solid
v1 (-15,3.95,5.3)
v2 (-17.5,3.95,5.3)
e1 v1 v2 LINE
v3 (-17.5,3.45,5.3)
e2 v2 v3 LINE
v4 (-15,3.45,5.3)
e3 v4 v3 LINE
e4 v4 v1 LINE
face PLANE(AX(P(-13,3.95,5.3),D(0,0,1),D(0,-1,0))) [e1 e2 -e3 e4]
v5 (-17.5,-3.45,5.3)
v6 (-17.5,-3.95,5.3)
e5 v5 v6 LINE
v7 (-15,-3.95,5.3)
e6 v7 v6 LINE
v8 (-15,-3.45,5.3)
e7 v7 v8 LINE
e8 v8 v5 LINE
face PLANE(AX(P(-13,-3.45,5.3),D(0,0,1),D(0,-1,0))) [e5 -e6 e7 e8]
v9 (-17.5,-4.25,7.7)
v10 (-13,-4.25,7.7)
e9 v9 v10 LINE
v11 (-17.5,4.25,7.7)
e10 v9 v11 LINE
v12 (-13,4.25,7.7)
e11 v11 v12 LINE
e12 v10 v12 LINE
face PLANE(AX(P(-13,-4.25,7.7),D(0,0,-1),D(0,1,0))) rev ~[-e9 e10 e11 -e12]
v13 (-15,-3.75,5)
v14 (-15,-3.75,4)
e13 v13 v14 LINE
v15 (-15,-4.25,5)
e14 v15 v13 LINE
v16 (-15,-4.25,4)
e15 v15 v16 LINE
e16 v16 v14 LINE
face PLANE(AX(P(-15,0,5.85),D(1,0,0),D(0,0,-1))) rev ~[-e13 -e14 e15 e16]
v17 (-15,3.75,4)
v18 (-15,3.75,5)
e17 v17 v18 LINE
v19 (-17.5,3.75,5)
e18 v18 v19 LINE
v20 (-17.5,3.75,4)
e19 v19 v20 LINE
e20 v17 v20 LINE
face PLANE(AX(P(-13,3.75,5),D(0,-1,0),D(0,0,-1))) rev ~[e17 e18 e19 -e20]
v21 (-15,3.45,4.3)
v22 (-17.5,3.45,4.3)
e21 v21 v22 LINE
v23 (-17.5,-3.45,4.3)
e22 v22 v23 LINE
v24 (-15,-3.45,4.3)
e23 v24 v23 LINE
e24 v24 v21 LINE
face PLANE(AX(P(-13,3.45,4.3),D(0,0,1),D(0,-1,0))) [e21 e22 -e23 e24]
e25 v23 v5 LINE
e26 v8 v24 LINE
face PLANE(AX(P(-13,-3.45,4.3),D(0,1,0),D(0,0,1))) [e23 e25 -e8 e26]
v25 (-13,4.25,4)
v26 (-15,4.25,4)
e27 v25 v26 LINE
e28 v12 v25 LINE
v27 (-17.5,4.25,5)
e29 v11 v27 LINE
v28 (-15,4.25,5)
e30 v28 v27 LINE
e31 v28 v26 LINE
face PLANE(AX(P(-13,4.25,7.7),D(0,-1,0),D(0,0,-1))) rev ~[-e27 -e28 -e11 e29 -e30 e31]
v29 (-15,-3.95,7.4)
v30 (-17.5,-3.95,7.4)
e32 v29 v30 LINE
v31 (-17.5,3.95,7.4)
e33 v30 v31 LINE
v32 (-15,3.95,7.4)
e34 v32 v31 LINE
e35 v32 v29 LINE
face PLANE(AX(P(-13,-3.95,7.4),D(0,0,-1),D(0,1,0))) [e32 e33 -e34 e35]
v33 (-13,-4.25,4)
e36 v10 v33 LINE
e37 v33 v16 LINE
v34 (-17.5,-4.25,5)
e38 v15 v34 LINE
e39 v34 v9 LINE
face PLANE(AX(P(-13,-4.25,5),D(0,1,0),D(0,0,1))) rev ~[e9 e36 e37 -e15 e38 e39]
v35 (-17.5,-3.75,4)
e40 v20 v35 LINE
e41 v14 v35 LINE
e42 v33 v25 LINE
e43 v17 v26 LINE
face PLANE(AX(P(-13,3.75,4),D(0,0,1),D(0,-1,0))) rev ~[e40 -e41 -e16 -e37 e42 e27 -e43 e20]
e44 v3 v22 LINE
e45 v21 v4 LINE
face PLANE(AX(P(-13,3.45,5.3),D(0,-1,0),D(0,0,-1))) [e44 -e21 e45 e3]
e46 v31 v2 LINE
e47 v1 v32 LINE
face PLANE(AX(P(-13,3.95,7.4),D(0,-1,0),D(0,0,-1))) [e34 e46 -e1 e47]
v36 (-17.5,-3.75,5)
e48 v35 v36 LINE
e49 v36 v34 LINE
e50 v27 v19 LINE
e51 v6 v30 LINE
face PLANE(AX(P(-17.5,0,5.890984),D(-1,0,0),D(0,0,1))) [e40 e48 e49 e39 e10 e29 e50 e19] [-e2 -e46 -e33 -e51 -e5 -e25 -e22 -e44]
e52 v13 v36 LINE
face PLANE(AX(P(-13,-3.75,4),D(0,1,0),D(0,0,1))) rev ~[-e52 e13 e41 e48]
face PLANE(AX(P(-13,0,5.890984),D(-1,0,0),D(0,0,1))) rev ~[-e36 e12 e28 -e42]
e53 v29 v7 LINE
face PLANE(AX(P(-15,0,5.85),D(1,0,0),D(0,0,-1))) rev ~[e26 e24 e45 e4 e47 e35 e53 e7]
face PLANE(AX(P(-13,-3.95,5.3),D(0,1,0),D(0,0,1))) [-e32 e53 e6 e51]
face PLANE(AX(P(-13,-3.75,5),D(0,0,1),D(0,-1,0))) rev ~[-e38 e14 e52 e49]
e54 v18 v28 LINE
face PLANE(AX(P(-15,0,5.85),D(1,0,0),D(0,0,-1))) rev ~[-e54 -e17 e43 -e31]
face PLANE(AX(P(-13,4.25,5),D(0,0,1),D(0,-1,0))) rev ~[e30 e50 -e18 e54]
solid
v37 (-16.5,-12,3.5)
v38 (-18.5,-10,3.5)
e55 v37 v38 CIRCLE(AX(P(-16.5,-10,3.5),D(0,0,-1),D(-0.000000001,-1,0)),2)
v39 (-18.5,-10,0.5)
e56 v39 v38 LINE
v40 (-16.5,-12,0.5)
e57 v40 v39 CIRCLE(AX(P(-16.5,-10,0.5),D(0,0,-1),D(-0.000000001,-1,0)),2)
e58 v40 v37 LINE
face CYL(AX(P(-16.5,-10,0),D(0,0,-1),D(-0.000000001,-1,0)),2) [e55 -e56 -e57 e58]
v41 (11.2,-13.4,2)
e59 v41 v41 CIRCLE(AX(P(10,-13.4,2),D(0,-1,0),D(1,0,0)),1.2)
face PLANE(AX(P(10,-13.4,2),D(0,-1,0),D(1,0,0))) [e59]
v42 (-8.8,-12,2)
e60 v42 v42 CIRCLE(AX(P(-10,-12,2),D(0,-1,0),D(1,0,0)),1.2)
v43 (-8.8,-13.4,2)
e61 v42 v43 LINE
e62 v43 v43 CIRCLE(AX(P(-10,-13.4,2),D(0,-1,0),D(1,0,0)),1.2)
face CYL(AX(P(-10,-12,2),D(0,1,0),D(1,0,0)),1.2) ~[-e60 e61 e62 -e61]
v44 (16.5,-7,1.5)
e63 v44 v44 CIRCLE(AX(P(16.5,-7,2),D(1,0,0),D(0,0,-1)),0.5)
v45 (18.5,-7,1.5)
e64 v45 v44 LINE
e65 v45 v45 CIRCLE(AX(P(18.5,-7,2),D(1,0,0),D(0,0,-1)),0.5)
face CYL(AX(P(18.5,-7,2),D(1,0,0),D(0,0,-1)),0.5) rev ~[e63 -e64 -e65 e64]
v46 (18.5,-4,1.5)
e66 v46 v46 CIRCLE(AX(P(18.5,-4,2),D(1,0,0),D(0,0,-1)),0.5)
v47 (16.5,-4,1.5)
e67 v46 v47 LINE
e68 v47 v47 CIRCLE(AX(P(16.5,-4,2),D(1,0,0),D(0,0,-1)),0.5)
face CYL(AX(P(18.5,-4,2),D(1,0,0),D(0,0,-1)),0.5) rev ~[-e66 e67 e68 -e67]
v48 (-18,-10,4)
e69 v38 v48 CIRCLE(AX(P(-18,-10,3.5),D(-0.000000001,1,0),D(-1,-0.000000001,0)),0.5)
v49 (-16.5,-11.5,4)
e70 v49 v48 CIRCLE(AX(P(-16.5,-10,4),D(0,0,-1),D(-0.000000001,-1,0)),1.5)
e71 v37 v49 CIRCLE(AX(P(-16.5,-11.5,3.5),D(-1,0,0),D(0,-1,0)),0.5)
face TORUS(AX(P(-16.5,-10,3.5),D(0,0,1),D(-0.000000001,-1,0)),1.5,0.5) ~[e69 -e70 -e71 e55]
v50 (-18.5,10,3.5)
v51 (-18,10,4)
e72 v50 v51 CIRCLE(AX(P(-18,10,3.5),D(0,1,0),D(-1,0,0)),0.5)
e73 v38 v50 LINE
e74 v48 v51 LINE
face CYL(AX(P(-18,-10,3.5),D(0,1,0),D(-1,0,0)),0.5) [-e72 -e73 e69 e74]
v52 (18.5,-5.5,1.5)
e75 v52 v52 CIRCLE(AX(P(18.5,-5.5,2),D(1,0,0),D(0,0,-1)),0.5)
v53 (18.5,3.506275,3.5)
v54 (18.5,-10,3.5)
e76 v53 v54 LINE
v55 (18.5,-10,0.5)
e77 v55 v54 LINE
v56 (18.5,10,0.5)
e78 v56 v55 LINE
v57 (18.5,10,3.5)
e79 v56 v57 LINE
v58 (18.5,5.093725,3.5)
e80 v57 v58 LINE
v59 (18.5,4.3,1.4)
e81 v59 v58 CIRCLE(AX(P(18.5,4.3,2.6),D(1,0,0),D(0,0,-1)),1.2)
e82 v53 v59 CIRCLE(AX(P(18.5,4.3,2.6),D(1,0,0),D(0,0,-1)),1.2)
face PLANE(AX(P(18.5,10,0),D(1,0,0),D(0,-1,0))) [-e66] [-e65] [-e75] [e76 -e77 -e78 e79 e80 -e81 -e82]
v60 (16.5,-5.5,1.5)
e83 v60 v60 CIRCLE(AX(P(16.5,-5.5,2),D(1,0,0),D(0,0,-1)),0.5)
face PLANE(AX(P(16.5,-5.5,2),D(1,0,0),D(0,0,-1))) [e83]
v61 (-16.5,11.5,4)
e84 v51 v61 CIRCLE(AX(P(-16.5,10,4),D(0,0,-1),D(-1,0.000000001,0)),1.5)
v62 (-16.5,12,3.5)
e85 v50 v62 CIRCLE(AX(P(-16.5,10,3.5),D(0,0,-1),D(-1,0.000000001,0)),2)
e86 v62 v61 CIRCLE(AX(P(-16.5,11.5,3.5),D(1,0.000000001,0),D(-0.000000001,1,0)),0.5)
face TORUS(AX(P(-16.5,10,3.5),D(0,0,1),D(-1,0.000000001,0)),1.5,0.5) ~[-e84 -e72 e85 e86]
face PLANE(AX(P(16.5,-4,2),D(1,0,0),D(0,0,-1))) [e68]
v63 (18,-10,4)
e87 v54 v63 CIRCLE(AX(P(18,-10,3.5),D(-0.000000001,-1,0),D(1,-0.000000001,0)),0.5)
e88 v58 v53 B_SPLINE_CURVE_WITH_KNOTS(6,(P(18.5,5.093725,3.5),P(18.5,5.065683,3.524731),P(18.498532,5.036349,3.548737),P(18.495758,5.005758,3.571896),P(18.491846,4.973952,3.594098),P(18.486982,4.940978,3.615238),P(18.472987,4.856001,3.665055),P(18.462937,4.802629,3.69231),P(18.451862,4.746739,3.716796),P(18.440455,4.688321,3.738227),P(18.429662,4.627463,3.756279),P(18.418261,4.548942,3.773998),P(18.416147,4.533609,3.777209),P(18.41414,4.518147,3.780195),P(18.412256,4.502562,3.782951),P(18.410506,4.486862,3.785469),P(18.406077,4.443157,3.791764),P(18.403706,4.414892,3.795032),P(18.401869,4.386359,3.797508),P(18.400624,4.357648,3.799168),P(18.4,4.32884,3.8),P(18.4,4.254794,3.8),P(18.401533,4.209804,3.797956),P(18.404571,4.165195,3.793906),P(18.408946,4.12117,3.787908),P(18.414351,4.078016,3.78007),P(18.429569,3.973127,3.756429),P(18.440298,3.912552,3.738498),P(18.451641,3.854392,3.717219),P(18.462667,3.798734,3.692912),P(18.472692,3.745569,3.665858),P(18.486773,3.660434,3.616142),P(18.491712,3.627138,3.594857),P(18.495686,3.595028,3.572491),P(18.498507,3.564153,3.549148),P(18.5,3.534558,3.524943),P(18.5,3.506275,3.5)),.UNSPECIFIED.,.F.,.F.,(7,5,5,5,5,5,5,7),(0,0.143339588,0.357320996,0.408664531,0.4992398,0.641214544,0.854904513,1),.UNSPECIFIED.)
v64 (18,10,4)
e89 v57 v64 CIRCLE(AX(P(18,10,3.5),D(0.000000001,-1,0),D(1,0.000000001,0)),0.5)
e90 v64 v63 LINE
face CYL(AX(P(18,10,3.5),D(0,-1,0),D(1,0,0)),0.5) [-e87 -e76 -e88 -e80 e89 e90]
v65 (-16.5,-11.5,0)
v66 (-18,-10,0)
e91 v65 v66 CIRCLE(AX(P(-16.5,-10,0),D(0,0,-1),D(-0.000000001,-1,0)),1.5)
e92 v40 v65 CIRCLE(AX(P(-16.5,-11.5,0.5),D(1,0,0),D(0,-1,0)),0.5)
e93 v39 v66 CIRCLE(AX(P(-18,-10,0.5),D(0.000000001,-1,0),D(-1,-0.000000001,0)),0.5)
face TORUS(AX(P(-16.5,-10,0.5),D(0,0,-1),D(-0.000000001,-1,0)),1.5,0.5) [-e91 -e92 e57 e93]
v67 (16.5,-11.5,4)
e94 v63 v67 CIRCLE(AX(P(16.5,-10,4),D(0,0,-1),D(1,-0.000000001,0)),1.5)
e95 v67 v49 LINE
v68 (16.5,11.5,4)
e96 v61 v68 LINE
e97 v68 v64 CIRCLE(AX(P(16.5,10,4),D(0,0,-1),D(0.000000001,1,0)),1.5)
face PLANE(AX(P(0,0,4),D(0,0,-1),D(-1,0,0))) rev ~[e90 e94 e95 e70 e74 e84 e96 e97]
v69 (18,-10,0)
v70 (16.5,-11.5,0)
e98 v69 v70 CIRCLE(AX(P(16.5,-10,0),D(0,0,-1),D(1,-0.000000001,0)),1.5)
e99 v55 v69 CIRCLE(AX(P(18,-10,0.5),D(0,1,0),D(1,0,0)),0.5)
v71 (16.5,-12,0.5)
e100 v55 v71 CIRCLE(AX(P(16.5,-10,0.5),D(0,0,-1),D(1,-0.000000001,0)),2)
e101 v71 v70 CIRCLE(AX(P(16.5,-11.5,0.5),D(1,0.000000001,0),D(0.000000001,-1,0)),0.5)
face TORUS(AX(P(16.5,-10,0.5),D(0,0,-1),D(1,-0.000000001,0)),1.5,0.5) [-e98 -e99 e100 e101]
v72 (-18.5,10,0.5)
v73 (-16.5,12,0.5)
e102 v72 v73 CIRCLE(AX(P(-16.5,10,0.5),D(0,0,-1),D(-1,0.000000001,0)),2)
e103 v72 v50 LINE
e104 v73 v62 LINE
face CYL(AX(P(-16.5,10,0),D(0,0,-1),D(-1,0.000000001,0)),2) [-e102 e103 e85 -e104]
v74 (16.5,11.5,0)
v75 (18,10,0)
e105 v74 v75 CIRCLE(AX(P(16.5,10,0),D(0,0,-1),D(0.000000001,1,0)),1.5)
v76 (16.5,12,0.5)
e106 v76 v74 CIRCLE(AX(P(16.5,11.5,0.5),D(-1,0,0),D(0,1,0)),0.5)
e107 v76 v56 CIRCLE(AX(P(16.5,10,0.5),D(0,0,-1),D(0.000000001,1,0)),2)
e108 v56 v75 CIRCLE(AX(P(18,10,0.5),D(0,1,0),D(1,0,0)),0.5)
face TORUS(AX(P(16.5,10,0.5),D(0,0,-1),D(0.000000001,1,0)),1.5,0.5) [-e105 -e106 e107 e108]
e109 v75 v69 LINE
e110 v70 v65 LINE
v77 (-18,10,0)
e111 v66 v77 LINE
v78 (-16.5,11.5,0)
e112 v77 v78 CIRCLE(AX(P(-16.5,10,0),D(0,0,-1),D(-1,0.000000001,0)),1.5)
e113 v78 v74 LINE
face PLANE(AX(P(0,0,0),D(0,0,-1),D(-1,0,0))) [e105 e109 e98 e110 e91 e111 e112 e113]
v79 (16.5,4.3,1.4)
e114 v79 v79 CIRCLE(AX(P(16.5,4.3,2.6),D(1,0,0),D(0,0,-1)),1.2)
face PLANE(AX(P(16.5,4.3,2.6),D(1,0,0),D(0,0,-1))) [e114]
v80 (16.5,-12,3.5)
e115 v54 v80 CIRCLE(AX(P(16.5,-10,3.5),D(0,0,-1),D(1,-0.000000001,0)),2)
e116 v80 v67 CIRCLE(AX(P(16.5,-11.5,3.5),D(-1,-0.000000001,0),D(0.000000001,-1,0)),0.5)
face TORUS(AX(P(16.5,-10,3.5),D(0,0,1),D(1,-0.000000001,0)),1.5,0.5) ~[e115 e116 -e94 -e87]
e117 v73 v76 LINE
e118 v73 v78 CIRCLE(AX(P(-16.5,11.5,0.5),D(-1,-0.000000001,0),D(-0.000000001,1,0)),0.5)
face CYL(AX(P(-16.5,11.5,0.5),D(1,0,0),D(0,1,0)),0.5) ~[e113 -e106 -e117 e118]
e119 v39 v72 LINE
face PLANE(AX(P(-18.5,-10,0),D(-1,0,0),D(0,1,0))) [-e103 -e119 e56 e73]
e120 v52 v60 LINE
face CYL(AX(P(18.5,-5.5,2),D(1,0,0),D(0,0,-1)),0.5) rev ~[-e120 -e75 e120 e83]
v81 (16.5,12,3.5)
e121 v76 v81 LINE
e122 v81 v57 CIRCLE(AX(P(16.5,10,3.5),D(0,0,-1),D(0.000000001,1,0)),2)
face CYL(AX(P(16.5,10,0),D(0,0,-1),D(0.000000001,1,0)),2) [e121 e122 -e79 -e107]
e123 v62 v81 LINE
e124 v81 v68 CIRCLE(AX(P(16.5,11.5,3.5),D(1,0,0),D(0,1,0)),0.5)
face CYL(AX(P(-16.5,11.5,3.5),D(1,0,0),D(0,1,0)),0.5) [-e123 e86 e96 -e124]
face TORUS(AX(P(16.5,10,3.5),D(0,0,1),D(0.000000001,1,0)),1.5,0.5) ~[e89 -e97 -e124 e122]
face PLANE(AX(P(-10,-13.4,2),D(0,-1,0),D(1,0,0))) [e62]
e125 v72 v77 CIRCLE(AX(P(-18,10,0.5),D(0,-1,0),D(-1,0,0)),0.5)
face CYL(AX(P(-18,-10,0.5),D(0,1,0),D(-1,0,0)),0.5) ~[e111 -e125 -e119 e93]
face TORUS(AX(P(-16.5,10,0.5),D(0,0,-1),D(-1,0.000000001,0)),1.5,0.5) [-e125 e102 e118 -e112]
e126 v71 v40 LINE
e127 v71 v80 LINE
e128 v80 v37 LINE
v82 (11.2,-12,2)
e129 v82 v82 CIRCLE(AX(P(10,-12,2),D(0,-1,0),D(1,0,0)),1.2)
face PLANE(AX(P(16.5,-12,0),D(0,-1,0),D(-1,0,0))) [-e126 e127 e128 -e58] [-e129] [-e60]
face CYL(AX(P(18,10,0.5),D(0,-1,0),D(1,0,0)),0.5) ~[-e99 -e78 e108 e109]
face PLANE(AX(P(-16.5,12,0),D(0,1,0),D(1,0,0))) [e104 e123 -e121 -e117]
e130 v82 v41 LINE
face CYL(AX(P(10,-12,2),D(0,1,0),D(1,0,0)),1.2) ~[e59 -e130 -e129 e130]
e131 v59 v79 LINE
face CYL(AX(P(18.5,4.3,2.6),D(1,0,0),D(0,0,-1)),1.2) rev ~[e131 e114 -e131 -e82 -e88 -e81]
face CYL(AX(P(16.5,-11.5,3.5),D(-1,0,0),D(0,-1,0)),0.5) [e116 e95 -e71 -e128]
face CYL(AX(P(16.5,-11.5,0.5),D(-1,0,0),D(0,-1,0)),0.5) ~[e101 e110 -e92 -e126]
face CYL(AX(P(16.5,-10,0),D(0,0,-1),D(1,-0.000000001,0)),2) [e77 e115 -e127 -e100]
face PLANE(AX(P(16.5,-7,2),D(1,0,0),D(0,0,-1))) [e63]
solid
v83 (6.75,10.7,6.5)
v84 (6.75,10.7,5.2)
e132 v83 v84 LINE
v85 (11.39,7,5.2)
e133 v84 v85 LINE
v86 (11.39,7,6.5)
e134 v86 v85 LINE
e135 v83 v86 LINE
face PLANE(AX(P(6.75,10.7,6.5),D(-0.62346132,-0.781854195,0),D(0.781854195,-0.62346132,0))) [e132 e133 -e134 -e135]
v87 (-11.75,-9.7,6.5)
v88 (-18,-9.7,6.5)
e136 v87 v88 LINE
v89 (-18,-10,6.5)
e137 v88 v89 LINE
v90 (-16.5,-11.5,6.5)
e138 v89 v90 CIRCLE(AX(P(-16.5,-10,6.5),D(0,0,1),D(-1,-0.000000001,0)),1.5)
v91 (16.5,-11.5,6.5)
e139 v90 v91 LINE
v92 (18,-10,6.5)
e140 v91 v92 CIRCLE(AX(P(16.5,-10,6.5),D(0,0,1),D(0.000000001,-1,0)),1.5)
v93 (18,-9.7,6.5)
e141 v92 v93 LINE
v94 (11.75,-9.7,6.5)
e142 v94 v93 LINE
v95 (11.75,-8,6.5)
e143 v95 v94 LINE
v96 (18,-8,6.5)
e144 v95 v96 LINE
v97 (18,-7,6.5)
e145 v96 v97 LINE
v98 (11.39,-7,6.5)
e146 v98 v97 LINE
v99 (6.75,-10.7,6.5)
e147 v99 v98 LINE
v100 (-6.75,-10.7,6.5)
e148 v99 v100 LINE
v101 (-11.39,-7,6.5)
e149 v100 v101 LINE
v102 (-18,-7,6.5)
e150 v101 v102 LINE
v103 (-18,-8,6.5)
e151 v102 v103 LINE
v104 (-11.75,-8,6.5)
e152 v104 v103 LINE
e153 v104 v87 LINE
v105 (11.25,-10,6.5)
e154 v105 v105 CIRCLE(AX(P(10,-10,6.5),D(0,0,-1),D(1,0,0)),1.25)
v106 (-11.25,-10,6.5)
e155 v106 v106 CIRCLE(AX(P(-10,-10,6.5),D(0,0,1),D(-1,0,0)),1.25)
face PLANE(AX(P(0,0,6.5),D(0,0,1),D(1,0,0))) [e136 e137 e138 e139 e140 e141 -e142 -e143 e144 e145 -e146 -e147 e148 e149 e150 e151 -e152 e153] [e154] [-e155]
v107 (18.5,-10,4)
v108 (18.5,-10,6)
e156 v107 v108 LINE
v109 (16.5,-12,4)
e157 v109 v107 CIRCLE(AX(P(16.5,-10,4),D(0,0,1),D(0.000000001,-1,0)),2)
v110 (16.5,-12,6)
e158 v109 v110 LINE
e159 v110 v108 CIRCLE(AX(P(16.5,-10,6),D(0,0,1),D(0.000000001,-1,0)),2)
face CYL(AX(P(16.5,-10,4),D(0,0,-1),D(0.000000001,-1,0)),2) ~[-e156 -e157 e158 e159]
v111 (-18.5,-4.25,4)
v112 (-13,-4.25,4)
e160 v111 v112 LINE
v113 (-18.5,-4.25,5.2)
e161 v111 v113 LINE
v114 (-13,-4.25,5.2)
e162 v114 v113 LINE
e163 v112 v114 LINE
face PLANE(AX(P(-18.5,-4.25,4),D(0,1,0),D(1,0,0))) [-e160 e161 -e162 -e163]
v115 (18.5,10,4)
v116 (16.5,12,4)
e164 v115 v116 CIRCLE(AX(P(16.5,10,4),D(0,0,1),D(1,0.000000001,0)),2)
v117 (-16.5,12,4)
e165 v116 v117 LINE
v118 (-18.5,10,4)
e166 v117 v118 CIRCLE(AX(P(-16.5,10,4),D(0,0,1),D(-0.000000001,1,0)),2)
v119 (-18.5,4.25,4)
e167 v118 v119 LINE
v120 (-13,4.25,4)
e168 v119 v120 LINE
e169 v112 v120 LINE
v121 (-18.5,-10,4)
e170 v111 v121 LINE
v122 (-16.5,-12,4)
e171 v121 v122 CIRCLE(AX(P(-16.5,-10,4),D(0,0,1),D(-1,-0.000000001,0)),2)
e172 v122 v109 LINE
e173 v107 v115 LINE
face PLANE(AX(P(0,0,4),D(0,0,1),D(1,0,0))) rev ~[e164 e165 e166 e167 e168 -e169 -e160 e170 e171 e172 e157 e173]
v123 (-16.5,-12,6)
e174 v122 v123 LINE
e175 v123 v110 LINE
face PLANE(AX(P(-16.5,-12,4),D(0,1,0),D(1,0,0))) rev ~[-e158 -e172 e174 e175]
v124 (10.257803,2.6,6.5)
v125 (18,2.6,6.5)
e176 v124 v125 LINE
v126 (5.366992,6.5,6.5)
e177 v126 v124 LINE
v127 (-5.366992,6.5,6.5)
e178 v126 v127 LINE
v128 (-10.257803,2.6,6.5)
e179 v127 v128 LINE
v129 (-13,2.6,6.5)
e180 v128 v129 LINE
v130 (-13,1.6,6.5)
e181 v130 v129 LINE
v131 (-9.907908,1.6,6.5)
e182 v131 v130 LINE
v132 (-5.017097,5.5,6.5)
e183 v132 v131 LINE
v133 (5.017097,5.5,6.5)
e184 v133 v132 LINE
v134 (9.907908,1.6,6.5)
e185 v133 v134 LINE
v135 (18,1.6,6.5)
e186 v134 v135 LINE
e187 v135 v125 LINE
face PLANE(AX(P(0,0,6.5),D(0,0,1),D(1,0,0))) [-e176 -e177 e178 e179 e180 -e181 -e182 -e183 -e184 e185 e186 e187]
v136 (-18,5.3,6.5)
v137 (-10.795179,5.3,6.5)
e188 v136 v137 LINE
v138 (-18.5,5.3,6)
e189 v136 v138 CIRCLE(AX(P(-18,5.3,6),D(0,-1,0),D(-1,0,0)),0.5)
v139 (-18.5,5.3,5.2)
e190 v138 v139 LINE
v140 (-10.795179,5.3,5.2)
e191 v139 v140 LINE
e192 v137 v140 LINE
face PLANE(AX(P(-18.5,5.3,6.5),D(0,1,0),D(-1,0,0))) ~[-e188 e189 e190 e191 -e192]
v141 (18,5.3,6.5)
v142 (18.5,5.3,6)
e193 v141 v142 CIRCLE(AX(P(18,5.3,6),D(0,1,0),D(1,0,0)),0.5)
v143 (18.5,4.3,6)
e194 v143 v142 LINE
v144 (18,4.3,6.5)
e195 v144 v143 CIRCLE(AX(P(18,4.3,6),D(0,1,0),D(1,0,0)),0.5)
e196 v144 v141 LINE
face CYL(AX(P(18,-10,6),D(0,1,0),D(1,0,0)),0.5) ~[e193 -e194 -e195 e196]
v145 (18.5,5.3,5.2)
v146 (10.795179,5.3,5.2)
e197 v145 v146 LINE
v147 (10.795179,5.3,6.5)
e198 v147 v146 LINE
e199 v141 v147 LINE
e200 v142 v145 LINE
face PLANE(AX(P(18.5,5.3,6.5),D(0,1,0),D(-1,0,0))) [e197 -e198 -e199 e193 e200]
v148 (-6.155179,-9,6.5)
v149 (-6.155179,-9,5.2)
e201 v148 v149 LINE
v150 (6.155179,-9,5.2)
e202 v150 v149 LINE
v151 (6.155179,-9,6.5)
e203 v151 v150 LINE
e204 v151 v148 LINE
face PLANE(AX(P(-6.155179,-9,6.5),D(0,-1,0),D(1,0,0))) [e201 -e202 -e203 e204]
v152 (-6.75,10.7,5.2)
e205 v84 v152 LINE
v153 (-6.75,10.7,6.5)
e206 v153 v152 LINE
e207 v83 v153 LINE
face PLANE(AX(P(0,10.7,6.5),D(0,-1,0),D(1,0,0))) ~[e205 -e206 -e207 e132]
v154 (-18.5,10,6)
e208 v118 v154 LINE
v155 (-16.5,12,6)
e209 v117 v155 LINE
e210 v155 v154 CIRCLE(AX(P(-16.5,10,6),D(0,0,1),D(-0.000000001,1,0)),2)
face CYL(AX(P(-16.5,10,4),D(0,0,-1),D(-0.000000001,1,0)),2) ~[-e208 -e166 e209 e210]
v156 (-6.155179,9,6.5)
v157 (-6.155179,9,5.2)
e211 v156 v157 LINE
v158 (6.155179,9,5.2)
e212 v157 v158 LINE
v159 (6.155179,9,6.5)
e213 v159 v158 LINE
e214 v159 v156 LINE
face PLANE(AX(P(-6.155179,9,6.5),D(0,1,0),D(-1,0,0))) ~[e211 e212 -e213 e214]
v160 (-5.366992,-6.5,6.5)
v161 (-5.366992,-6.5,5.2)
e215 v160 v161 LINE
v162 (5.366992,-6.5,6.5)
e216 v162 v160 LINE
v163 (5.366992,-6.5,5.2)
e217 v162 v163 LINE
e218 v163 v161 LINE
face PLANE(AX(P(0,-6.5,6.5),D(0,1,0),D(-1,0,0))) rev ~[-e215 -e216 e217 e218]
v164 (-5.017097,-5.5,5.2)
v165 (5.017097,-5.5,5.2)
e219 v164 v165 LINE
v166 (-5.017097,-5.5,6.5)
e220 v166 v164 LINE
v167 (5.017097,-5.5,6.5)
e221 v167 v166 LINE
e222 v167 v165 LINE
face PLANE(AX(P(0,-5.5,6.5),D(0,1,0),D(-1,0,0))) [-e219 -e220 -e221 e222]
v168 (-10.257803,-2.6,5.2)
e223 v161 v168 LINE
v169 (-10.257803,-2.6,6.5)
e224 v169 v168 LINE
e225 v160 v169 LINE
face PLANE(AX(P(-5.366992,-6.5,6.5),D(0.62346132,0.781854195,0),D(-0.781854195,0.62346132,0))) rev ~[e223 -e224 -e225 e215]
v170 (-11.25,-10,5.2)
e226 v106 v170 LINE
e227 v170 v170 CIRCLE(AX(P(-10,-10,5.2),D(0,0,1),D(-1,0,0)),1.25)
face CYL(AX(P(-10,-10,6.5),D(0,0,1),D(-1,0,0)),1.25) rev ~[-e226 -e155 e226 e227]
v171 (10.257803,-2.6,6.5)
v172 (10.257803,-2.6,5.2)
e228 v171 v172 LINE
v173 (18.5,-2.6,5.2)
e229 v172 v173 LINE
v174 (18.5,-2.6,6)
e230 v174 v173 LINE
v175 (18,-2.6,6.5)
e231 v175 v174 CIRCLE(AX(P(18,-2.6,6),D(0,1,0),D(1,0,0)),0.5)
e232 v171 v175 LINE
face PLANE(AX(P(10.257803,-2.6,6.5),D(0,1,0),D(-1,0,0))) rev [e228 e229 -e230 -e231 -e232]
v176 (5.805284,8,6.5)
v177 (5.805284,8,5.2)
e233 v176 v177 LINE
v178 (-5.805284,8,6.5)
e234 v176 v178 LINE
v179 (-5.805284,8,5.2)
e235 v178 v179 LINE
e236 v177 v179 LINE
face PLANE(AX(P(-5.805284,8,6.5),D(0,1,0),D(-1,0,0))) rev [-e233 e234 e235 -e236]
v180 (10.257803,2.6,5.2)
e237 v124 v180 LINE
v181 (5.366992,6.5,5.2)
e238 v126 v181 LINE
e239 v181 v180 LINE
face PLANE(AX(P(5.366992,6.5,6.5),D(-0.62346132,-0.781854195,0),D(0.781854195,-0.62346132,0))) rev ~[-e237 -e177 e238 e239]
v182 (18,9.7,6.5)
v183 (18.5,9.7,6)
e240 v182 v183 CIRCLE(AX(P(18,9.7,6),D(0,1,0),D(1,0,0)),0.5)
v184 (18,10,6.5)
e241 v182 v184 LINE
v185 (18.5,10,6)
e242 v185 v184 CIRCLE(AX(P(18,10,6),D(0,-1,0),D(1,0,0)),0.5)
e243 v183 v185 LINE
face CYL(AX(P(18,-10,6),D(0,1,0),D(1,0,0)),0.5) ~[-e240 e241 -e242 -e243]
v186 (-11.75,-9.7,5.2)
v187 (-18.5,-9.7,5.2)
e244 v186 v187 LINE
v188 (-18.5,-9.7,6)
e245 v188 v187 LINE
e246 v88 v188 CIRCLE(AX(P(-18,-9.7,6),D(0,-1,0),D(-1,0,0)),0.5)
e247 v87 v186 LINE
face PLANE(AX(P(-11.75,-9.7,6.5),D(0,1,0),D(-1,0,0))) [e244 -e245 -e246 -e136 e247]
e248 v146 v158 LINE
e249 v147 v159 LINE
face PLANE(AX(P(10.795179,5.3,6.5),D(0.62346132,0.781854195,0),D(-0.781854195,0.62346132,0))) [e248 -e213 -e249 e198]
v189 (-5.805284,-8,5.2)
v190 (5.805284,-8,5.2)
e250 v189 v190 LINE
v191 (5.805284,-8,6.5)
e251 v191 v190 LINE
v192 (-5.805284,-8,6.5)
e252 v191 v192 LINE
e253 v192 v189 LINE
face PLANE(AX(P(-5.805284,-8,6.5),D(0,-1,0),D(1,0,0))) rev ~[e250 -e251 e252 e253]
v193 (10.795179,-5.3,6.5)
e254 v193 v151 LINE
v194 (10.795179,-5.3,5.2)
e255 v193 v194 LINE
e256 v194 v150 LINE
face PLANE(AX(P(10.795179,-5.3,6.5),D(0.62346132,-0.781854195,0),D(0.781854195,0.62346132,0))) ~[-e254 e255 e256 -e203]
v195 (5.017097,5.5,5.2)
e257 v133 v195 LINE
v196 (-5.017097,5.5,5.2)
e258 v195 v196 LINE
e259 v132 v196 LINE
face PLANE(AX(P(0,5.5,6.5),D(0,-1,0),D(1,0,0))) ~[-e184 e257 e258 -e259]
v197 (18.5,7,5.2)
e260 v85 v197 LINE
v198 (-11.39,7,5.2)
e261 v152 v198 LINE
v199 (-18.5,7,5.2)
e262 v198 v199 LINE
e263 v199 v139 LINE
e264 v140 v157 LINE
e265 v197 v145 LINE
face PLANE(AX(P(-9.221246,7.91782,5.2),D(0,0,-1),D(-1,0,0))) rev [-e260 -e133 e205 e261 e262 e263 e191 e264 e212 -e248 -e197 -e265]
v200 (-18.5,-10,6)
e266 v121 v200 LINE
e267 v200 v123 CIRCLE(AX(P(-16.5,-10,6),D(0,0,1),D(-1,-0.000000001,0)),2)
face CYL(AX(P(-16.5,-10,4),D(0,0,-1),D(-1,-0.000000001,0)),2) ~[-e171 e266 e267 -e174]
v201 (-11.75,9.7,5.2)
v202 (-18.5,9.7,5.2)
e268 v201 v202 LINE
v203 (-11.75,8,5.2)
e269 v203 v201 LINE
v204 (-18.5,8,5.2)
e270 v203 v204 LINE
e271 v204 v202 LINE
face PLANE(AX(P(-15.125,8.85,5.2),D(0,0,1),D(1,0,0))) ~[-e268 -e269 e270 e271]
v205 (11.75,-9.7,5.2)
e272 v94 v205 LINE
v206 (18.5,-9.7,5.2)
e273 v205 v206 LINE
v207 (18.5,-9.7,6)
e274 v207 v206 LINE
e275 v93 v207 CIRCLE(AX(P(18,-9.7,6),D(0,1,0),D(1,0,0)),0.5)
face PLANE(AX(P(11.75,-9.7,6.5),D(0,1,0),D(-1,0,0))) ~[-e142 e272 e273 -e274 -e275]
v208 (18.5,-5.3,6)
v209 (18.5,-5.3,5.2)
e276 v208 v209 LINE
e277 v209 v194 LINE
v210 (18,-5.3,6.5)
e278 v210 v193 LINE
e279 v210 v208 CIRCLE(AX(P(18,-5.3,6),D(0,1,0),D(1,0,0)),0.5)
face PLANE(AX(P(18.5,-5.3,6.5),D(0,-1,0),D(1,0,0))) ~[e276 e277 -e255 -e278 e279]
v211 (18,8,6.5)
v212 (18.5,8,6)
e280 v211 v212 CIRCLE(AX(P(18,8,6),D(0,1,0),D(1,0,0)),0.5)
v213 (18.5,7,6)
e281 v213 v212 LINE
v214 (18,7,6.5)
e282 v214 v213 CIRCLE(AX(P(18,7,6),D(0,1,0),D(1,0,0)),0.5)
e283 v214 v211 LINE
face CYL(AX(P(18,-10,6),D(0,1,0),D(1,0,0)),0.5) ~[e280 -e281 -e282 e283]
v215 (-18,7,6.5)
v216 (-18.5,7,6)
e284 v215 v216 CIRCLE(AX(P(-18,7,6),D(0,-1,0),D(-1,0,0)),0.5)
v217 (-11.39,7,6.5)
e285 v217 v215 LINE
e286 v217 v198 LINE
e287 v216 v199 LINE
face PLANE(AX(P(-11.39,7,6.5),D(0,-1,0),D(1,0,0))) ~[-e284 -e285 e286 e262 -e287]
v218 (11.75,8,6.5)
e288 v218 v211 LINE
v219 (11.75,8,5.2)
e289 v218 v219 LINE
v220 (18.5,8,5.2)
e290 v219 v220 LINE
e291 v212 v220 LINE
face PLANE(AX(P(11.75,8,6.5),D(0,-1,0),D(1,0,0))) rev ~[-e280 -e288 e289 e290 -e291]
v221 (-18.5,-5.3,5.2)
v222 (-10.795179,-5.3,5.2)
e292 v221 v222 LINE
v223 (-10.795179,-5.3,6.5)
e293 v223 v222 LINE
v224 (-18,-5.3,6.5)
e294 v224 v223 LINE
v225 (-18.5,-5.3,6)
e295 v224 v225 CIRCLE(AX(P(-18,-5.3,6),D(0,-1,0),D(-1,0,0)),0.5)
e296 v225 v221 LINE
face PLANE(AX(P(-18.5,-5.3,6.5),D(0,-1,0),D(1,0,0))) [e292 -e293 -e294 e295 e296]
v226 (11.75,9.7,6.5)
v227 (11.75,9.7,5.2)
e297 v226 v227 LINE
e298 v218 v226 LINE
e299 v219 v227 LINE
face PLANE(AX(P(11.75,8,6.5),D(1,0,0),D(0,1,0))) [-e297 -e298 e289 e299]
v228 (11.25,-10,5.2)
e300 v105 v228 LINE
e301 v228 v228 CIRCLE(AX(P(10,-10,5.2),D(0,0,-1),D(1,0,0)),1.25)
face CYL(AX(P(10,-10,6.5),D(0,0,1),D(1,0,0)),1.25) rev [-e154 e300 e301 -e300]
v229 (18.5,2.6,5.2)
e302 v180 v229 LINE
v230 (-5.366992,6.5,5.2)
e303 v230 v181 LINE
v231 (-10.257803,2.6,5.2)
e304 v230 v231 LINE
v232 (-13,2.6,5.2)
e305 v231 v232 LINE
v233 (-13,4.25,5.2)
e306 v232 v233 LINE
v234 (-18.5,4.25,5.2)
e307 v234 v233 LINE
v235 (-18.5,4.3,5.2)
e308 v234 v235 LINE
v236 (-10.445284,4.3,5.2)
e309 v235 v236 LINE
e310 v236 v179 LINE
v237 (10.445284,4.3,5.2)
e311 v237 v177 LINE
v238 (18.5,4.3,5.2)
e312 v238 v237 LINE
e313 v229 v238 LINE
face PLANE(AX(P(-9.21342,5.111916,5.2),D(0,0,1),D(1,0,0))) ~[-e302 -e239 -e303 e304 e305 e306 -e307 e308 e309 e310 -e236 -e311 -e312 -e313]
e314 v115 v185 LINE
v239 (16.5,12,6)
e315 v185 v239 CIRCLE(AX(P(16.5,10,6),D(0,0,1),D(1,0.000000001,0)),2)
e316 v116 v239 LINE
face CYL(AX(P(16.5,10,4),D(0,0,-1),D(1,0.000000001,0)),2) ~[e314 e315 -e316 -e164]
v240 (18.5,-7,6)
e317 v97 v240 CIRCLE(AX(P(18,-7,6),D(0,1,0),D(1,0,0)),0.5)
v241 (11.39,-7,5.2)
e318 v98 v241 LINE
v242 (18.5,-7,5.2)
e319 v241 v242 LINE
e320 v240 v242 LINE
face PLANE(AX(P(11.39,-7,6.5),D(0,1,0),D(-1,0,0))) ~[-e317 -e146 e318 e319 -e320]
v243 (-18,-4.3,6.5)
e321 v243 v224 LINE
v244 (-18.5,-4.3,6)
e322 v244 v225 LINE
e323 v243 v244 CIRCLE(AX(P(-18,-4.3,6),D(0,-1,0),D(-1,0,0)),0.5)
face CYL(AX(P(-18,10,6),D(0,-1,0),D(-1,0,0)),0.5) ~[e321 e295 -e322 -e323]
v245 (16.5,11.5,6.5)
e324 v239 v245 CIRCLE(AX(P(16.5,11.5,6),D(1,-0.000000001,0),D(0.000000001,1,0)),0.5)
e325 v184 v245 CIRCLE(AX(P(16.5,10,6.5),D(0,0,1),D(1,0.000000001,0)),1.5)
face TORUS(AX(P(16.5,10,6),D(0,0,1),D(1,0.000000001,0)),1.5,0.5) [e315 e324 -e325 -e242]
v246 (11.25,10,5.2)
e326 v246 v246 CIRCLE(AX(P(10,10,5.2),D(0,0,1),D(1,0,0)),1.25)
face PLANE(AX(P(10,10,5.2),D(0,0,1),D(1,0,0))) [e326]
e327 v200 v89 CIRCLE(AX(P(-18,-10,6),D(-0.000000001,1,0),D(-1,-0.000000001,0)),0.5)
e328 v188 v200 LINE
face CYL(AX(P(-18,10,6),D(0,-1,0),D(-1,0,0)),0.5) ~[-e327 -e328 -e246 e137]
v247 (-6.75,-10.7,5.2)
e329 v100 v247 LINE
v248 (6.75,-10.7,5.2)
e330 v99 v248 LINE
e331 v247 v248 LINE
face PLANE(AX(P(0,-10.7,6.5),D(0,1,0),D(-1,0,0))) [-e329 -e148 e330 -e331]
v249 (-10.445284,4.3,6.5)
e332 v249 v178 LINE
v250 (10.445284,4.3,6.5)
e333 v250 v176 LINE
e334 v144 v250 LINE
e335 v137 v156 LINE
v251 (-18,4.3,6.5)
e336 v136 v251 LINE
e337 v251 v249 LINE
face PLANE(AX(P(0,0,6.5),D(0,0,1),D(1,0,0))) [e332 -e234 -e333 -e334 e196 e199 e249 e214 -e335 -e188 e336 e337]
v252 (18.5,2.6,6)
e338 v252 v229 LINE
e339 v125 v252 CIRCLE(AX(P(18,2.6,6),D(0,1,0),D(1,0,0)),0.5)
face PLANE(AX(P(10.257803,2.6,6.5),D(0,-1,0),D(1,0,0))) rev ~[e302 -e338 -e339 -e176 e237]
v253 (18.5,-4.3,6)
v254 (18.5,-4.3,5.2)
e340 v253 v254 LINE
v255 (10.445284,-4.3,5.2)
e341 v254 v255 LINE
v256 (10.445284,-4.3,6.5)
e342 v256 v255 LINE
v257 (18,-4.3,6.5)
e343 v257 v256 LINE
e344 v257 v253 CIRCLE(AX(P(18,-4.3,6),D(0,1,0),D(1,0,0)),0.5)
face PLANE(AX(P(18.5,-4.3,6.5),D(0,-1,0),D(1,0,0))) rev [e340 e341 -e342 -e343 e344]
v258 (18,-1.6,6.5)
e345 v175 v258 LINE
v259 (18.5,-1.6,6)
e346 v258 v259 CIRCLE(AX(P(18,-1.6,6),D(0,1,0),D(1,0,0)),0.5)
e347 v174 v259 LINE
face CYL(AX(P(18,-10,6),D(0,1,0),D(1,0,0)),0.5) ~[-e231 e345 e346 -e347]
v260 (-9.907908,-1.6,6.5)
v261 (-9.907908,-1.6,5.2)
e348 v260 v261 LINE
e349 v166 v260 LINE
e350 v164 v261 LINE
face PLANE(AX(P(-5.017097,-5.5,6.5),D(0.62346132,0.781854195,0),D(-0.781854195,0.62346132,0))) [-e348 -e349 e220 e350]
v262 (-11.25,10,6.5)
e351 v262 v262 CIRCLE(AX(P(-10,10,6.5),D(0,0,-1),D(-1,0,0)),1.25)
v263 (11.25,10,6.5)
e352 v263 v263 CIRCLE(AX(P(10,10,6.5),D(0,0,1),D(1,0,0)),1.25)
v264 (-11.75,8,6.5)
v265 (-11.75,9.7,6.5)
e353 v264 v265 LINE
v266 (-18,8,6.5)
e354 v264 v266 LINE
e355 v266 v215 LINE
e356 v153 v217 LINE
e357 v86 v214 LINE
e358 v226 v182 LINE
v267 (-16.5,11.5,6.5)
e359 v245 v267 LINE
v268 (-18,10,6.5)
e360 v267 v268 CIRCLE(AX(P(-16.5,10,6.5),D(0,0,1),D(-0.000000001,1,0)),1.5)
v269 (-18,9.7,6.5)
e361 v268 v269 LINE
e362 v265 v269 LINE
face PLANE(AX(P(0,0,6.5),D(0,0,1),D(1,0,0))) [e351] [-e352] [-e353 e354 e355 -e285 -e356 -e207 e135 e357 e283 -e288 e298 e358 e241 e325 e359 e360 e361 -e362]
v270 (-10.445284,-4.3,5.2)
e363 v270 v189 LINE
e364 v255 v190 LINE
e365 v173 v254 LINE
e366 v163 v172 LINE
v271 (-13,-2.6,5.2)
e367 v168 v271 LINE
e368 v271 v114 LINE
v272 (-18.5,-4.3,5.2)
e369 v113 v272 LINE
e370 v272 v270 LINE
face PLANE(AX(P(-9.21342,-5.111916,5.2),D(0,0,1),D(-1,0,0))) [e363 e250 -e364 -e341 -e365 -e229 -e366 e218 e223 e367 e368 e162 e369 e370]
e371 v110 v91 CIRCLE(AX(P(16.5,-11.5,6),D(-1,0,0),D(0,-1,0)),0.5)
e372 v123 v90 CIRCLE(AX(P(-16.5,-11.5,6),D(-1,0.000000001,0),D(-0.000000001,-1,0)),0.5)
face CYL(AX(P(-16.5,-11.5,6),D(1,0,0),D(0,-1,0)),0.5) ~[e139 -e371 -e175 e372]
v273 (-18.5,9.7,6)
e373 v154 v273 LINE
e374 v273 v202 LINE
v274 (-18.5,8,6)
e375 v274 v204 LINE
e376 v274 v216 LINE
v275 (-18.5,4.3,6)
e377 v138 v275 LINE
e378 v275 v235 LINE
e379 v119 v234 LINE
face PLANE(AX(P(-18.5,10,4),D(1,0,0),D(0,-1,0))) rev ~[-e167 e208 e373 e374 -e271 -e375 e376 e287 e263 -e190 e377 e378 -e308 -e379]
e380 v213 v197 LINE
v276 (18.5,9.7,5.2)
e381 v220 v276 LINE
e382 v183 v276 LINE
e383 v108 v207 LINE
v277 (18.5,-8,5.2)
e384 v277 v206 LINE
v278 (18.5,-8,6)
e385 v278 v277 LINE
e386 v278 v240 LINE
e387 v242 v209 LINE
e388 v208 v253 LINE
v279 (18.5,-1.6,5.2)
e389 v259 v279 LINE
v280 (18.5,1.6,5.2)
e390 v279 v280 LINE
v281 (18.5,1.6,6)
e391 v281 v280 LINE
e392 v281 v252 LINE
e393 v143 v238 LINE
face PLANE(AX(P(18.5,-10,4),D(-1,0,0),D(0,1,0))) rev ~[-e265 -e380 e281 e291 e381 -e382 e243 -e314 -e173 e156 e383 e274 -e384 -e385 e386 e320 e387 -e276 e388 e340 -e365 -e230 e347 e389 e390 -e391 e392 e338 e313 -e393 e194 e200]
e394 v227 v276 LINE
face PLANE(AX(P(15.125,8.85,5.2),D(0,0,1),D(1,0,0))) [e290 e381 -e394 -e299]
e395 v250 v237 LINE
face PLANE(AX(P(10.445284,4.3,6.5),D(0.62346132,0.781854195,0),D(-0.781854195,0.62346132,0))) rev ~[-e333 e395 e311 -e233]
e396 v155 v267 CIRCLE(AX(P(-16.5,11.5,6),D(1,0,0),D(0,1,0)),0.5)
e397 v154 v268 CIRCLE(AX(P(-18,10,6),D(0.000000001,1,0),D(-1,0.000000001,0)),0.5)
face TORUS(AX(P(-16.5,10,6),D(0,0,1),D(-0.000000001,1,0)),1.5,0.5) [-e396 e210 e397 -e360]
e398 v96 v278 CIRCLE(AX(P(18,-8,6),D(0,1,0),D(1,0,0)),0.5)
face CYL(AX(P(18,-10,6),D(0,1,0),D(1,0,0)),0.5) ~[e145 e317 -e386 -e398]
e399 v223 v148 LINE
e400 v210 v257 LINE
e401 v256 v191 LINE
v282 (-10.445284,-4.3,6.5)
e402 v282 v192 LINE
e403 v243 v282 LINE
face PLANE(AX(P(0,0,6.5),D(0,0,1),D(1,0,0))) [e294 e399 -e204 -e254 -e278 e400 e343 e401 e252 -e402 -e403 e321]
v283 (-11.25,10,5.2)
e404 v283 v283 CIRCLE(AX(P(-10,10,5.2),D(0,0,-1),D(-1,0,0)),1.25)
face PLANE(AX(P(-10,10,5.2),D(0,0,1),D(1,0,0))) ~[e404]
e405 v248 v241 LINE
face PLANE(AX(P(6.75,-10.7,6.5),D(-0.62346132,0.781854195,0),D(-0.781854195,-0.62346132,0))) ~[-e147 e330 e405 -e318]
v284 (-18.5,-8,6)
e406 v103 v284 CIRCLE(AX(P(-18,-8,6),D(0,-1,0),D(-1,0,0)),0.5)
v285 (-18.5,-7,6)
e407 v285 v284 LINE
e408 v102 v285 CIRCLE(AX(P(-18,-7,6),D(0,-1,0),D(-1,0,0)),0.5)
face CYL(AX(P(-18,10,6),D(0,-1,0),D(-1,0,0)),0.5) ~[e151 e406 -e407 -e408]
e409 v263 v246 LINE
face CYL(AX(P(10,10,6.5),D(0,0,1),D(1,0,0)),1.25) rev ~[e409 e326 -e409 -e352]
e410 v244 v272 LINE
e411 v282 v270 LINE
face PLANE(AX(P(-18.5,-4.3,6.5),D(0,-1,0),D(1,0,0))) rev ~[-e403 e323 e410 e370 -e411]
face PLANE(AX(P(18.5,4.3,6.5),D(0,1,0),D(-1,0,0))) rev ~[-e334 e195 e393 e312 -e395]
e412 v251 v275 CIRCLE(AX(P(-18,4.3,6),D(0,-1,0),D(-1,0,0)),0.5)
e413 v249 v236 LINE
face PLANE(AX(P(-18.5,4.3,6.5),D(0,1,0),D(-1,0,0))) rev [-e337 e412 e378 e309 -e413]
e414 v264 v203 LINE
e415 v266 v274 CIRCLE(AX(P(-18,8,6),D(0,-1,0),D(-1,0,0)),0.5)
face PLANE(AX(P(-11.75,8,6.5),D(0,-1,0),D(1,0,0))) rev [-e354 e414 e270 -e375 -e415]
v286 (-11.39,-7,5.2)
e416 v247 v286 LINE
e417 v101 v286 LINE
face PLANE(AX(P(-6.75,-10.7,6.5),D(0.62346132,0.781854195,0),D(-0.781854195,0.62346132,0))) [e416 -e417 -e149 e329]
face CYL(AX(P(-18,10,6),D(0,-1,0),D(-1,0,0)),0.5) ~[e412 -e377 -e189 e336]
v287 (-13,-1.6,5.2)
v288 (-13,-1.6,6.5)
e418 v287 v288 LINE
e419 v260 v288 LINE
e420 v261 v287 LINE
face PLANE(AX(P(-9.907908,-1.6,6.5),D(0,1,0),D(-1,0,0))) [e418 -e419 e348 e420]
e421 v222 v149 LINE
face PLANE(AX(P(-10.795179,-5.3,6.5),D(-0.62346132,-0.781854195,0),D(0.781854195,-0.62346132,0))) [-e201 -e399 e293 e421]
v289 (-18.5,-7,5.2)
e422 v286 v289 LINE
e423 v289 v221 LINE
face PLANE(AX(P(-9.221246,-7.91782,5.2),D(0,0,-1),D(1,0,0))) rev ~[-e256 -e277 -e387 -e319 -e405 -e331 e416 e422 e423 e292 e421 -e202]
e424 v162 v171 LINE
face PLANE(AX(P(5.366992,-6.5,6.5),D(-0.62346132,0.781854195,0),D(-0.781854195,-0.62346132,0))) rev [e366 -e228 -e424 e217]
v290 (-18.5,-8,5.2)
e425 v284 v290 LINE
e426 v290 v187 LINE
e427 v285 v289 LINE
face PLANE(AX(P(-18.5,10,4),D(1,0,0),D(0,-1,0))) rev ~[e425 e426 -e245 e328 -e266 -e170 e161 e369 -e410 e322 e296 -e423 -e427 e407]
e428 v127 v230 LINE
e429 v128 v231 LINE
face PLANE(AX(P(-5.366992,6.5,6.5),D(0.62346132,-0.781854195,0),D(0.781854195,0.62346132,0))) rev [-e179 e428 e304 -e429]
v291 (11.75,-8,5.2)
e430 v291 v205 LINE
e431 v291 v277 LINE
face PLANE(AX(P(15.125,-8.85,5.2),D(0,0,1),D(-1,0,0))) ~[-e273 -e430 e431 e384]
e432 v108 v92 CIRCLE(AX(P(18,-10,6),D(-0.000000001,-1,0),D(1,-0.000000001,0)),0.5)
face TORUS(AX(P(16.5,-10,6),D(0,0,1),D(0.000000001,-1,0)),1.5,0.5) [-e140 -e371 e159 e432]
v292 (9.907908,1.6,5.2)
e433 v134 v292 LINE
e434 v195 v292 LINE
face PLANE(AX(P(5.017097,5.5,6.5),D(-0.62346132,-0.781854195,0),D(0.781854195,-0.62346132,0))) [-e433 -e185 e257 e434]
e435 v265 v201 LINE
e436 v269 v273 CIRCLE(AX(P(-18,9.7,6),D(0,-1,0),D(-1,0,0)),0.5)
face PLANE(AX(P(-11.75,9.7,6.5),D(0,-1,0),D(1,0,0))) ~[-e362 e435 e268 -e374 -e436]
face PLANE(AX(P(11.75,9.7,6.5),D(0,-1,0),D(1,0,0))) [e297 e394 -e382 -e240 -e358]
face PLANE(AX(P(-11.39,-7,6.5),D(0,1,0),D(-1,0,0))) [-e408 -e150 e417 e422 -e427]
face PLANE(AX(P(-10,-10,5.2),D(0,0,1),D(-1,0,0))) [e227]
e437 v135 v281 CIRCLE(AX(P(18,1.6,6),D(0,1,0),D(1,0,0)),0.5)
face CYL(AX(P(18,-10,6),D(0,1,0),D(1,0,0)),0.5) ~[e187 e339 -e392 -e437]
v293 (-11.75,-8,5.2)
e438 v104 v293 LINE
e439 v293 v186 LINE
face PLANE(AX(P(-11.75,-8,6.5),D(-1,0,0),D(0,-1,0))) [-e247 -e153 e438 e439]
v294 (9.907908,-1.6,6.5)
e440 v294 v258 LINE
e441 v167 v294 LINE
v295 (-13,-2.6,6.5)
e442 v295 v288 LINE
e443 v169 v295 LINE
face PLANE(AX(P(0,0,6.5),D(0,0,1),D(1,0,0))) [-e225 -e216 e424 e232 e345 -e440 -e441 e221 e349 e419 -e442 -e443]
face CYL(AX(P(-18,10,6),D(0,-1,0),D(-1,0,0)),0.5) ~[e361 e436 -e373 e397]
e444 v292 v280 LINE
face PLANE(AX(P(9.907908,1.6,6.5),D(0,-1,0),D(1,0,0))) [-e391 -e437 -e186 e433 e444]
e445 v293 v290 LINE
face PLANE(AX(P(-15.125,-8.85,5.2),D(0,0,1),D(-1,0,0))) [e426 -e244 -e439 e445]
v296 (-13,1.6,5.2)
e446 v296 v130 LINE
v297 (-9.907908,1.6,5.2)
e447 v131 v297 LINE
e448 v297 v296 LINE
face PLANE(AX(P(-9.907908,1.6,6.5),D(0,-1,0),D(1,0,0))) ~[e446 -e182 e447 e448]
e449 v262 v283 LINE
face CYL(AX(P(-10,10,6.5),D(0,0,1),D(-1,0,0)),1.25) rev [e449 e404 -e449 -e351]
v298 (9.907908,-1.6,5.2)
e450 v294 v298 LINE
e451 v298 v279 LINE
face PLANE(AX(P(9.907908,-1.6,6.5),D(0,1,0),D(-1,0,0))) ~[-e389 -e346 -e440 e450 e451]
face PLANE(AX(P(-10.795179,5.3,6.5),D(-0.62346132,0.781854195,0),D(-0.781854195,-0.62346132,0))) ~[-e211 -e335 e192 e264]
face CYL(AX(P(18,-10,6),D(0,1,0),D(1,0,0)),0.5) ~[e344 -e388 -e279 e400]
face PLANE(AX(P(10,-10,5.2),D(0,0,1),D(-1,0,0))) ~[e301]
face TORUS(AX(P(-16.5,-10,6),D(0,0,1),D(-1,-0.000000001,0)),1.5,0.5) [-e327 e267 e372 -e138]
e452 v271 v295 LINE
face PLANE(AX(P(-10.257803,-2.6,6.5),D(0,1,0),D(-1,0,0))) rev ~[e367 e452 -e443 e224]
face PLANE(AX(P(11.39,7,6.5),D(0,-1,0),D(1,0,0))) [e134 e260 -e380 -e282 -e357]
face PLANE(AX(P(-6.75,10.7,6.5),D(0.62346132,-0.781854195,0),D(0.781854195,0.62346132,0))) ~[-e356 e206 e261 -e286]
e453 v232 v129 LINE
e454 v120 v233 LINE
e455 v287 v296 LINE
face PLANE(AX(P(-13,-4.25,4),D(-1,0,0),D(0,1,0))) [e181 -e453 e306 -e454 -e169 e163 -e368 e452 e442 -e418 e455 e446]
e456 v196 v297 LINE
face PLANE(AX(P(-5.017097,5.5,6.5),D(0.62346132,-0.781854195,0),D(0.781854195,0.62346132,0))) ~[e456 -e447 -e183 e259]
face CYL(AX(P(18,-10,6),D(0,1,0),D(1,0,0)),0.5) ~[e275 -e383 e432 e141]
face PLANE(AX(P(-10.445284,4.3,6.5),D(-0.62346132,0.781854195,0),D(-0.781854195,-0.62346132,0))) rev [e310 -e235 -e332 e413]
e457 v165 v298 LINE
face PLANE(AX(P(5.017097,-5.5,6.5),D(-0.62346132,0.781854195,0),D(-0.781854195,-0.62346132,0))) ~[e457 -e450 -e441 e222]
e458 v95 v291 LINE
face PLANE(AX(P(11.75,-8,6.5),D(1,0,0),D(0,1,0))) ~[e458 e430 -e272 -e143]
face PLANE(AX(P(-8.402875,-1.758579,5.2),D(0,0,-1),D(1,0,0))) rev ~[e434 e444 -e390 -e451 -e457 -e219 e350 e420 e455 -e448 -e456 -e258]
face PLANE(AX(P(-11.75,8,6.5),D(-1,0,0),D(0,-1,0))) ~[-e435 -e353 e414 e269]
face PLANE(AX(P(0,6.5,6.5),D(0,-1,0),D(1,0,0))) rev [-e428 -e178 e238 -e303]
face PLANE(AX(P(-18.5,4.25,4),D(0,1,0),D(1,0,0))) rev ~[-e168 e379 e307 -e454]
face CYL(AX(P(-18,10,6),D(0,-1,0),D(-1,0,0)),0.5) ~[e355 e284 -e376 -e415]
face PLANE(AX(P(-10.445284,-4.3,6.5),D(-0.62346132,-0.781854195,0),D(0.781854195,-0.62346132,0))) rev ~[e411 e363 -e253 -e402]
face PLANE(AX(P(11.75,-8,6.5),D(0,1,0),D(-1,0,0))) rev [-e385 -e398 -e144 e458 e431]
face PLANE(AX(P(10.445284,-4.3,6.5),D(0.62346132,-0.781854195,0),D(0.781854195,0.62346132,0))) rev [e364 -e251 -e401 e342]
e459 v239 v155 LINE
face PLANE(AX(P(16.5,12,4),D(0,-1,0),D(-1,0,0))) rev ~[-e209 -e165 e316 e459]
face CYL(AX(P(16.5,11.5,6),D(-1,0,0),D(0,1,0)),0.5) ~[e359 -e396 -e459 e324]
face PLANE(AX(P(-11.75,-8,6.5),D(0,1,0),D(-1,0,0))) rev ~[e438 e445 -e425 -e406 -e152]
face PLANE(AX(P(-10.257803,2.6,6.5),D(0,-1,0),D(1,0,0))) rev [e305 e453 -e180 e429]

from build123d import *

# Parameters (mm, degrees)
BOSS_EXTRUDE1_DEPTH                        = 4
FILLET1_R                                  = 0.5
SKETCH3_R                                  = 1.2
BOSS_EXTRUDE3_DEPTH                        = 1.4
SKETCH8_R                                  = 1.2
SKETCH8_R_2                                = 0.5
CUT_EXTRUDE3_DEPTH                         = 2
BOSS_EXTRUDE2_DEPTH                        = 2.5
FILLET2_R                                  = 0.5
SKETCH6_R                                  = 1.25
SKETCH6_W                                  = 6.75
SKETCH6_H                                  = 1.7
CUT_EXTRUDE2_DEPTH                         = 1.3
MIRROR3_AT_THE_SECOND_PLANE_COPY_1_SKETC_R = 1.25
MIRROR3_AT_THE_SECOND_PLANE_COPY_1_SKETC_W = 6.75
MIRROR3_AT_THE_SECOND_PLANE_COPY_1_SKETC_H = 1.7
MIRROR3_AT_THE_SECOND_PLANE_COPY_1_DEPTH   = 1.3
CUT_EXTRUDE1_START                         = -2.5
SKETCH4_W                                  = 5.5
SKETCH4_H                                  = 8.5
CUT_EXTRUDE1_DEPTH                         = 2.5
BOSS_EXTRUDE4_DEPTH                        = 4.5
SKETCH7_W                                  = 3.7
SKETCH7_H                                  = 8.5
BOSS_EXTRUDE5_DEPTH                        = 2


with BuildPart() as part:
    # Sketch1 → Boss-Extrude1 (new body)
    with BuildSketch(Plane.XY):
        with BuildLine():
            Line((-16.5, 12), (16.5, 12))
            ThreePointArc((16.5, 12), (17.914213562, 11.414213562), (18.5, 10))
            Line((18.5, 10), (18.5, -10))
            ThreePointArc((18.5, -10), (17.914213562, -11.414213562), (16.5, -12))
            Line((16.5, -12), (-16.5, -12))
            ThreePointArc((-16.5, -12), (-17.914213562, -11.414213562), (-18.5, -10))
            Line((-18.5, -10), (-18.5, 10))
            ThreePointArc((-18.5, 10), (-17.914213562, 11.414213562), (-16.5, 12))
        make_face()
    extrude(amount=BOSS_EXTRUDE1_DEPTH)

    # Fillet1
    fillet1_edges = [part.edges().sort_by_distance(p)[0] for p in [
        (18.5, 0, 0),
        (17.914213562, -11.414213562, 0),
        (0, -12, 0),
        (-17.914213562, -11.414213562, 0),
        (17.914213562, -11.414213562, 4),
        (18.5, 0, 4),
        (17.914213562, 11.414213562, 4),
        (0, 12, 4),
        (-17.914213562, 11.414213562, 4),
        (-18.5, 0, 4),
        (-17.914213562, -11.414213562, 4),
        (-18.5, 0, 0),
        (0, -12, 4),
        (-17.914213562, 11.414213562, 0),
        (0, 12, 0),
        (17.914213562, 11.414213562, 0),
    ]]
    fillet(fillet1_edges, radius=FILLET1_R)

    # Sketch3 → Boss-Extrude3 (add)
    with BuildSketch(Plane.XZ.offset(12)):
        with Locations((-10, 2)):
            Circle(SKETCH3_R)
        with Locations((10, 2)):
            Circle(SKETCH3_R)
    extrude(amount=BOSS_EXTRUDE3_DEPTH)

    # Sketch8 → Cut-Extrude3 (cut)
    with BuildSketch(Plane(origin=(18.5, 0, 0), x_dir=(0, 0, -1), z_dir=(1, 0, 0))):
        with Locations((-2.6, 4.3)):
            Circle(SKETCH8_R)
        with Locations((-2, -4)):
            Circle(SKETCH8_R_2)
        with Locations((-2, -5.5)):
            Circle(SKETCH8_R_2)
        with Locations((-2, -7)):
            Circle(SKETCH8_R_2)
    extrude(amount=-CUT_EXTRUDE3_DEPTH, mode=Mode.SUBTRACT)


with BuildPart() as body_2:
    # Sketch2 → Boss-Extrude2 (new body)
    with BuildSketch(Plane.XY.offset(4)):
        with BuildLine():
            Line((-18.5, 10), (-18.5, -10))
            ThreePointArc((-18.5, -10), (-17.914213562, -11.414213562), (-16.5, -12))
            Line((-16.5, -12), (16.5, -12))
            ThreePointArc((16.5, -12), (17.914213562, -11.414213562), (18.5, -10))
            Line((18.5, -10), (18.5, 10))
            ThreePointArc((18.5, 10), (17.914213562, 11.414213562), (16.5, 12))
            Line((16.5, 12), (-16.5, 12))
            ThreePointArc((-16.5, 12), (-17.914213562, 11.414213562), (-18.5, 10))
        make_face()
    extrude(amount=BOSS_EXTRUDE2_DEPTH)

    # Fillet2
    fillet2_edges = [body_2.edges().sort_by_distance(p)[0] for p in [
        (-17.914213562, -11.414213562, 6.5),
        (0, -12, 6.5),
        (17.914213562, -11.414213562, 6.5),
        (18.5, 0, 6.5),
        (17.914213562, 11.414213562, 6.5),
        (0, 12, 6.5),
        (-17.914213562, 11.414213562, 6.5),
        (-18.5, 0, 6.5),
    ]]
    fillet(fillet2_edges, radius=FILLET2_R)

    # Sketch6 → Cut-Extrude2 (cut)
    with BuildSketch(Plane.XY.offset(6.5)):
        with Locations((10, 10)):
            Circle(SKETCH6_R)
        Polygon((0, 10.7), (6.75, 10.7), (11.39, 7), (18.5, 7), (18.5, 5.3), (10.795179029, 5.3), (6.155179029, 9), (0, 9), align=None)
        Polygon((0, 6.5), (5.366992048, 6.5), (10.257802859, 2.6), (18.5, 2.6), (18.5, 4.3), (10.44528434, 4.3), (5.80528434, 8), (0, 8), align=None)
        Polygon((0, 5.5), (5.017097359, 5.5), (9.90790817, 1.6), (18.5, 1.6), (18.5, 0), (0, 0), align=None)
        with Locations((15.125, 8.85)):
            Rectangle(SKETCH6_W, SKETCH6_H)
    cut_extrude2 = extrude(amount=-CUT_EXTRUDE2_DEPTH, mode=Mode.SUBTRACT)

    # Mirror3: Cut-Extrude2 across plane
    add(cut_extrude2.mirror(Plane(origin=(0, 0, 0), x_dir=(0, 0, 1), z_dir=(1, 0, 0))), mode=Mode.SUBTRACT)

    # Mirror3 at the second plane: Cut-Extrude2 across plane
    add(cut_extrude2.mirror(Plane.ZX), mode=Mode.SUBTRACT)

    # Mirror3 at the second plane copy 1 sketc → Mirror3 at the second plane copy 1 (cut)
    with BuildSketch(Plane(origin=(0, 0, 6.5), x_dir=(-1, 0, 0), z_dir=(0, 0, 1))):
        with Locations((10, 10)):
            Circle(MIRROR3_AT_THE_SECOND_PLANE_COPY_1_SKETC_R)
        Polygon((0, 10.7), (6.75, 10.7), (11.39, 7), (18.5, 7), (18.5, 5.3), (10.795179029, 5.3), (6.155179029, 9), (0, 9), align=None)
        Polygon((0, 6.5), (5.366992048, 6.5), (10.257802859, 2.6), (18.5, 2.6), (18.5, 4.3), (10.44528434, 4.3), (5.80528434, 8), (0, 8), align=None)
        Polygon((0, 5.5), (5.017097359, 5.5), (9.90790817, 1.6), (18.5, 1.6), (18.5, 0), (0, 0), align=None)
        with Locations((15.125, 8.85)):
            Rectangle(MIRROR3_AT_THE_SECOND_PLANE_COPY_1_SKETC_W, MIRROR3_AT_THE_SECOND_PLANE_COPY_1_SKETC_H)
    extrude(amount=-MIRROR3_AT_THE_SECOND_PLANE_COPY_1_DEPTH, mode=Mode.SUBTRACT)

    # Sketch4 → Cut-Extrude1 (cut)
    with BuildSketch(Plane.XY.offset(6.5).offset(CUT_EXTRUDE1_START)):
        with Locations((-15.75, 0)):
            Rectangle(SKETCH4_W, SKETCH4_H)
    extrude(amount=CUT_EXTRUDE1_DEPTH, mode=Mode.SUBTRACT)


with BuildPart() as body_3:
    # Sketch5 → Boss-Extrude4 (new body)
    with BuildSketch(Plane.ZY.offset(13)):
        Polygon((7.7, 4.25), (5, 4.25), (5, 3.75), (4, 3.75), (4, -3.75), (5, -3.75), (5, -4.25), (7.7, -4.25), align=None)
        Polygon((7.4, 3.95), (5.3, 3.95), (5.3, 3.45), (4.3, 3.45), (4.3, -3.45), (5.3, -3.45), (5.3, -3.95), (7.4, -3.95), align=None, mode=Mode.SUBTRACT)
    extrude(amount=BOSS_EXTRUDE4_DEPTH)

    # Sketch7 → Boss-Extrude5 (add)
    with BuildSketch(Plane(origin=(-13, 0, 0), x_dir=(0, 0, -1), z_dir=(1, 0, 0))):
        with Locations((-5.85, 0)):
            Rectangle(SKETCH7_W, SKETCH7_H)
    extrude(amount=-BOSS_EXTRUDE5_DEPTH)


solid = Compound([part.part, body_2.part, body_3.part])
